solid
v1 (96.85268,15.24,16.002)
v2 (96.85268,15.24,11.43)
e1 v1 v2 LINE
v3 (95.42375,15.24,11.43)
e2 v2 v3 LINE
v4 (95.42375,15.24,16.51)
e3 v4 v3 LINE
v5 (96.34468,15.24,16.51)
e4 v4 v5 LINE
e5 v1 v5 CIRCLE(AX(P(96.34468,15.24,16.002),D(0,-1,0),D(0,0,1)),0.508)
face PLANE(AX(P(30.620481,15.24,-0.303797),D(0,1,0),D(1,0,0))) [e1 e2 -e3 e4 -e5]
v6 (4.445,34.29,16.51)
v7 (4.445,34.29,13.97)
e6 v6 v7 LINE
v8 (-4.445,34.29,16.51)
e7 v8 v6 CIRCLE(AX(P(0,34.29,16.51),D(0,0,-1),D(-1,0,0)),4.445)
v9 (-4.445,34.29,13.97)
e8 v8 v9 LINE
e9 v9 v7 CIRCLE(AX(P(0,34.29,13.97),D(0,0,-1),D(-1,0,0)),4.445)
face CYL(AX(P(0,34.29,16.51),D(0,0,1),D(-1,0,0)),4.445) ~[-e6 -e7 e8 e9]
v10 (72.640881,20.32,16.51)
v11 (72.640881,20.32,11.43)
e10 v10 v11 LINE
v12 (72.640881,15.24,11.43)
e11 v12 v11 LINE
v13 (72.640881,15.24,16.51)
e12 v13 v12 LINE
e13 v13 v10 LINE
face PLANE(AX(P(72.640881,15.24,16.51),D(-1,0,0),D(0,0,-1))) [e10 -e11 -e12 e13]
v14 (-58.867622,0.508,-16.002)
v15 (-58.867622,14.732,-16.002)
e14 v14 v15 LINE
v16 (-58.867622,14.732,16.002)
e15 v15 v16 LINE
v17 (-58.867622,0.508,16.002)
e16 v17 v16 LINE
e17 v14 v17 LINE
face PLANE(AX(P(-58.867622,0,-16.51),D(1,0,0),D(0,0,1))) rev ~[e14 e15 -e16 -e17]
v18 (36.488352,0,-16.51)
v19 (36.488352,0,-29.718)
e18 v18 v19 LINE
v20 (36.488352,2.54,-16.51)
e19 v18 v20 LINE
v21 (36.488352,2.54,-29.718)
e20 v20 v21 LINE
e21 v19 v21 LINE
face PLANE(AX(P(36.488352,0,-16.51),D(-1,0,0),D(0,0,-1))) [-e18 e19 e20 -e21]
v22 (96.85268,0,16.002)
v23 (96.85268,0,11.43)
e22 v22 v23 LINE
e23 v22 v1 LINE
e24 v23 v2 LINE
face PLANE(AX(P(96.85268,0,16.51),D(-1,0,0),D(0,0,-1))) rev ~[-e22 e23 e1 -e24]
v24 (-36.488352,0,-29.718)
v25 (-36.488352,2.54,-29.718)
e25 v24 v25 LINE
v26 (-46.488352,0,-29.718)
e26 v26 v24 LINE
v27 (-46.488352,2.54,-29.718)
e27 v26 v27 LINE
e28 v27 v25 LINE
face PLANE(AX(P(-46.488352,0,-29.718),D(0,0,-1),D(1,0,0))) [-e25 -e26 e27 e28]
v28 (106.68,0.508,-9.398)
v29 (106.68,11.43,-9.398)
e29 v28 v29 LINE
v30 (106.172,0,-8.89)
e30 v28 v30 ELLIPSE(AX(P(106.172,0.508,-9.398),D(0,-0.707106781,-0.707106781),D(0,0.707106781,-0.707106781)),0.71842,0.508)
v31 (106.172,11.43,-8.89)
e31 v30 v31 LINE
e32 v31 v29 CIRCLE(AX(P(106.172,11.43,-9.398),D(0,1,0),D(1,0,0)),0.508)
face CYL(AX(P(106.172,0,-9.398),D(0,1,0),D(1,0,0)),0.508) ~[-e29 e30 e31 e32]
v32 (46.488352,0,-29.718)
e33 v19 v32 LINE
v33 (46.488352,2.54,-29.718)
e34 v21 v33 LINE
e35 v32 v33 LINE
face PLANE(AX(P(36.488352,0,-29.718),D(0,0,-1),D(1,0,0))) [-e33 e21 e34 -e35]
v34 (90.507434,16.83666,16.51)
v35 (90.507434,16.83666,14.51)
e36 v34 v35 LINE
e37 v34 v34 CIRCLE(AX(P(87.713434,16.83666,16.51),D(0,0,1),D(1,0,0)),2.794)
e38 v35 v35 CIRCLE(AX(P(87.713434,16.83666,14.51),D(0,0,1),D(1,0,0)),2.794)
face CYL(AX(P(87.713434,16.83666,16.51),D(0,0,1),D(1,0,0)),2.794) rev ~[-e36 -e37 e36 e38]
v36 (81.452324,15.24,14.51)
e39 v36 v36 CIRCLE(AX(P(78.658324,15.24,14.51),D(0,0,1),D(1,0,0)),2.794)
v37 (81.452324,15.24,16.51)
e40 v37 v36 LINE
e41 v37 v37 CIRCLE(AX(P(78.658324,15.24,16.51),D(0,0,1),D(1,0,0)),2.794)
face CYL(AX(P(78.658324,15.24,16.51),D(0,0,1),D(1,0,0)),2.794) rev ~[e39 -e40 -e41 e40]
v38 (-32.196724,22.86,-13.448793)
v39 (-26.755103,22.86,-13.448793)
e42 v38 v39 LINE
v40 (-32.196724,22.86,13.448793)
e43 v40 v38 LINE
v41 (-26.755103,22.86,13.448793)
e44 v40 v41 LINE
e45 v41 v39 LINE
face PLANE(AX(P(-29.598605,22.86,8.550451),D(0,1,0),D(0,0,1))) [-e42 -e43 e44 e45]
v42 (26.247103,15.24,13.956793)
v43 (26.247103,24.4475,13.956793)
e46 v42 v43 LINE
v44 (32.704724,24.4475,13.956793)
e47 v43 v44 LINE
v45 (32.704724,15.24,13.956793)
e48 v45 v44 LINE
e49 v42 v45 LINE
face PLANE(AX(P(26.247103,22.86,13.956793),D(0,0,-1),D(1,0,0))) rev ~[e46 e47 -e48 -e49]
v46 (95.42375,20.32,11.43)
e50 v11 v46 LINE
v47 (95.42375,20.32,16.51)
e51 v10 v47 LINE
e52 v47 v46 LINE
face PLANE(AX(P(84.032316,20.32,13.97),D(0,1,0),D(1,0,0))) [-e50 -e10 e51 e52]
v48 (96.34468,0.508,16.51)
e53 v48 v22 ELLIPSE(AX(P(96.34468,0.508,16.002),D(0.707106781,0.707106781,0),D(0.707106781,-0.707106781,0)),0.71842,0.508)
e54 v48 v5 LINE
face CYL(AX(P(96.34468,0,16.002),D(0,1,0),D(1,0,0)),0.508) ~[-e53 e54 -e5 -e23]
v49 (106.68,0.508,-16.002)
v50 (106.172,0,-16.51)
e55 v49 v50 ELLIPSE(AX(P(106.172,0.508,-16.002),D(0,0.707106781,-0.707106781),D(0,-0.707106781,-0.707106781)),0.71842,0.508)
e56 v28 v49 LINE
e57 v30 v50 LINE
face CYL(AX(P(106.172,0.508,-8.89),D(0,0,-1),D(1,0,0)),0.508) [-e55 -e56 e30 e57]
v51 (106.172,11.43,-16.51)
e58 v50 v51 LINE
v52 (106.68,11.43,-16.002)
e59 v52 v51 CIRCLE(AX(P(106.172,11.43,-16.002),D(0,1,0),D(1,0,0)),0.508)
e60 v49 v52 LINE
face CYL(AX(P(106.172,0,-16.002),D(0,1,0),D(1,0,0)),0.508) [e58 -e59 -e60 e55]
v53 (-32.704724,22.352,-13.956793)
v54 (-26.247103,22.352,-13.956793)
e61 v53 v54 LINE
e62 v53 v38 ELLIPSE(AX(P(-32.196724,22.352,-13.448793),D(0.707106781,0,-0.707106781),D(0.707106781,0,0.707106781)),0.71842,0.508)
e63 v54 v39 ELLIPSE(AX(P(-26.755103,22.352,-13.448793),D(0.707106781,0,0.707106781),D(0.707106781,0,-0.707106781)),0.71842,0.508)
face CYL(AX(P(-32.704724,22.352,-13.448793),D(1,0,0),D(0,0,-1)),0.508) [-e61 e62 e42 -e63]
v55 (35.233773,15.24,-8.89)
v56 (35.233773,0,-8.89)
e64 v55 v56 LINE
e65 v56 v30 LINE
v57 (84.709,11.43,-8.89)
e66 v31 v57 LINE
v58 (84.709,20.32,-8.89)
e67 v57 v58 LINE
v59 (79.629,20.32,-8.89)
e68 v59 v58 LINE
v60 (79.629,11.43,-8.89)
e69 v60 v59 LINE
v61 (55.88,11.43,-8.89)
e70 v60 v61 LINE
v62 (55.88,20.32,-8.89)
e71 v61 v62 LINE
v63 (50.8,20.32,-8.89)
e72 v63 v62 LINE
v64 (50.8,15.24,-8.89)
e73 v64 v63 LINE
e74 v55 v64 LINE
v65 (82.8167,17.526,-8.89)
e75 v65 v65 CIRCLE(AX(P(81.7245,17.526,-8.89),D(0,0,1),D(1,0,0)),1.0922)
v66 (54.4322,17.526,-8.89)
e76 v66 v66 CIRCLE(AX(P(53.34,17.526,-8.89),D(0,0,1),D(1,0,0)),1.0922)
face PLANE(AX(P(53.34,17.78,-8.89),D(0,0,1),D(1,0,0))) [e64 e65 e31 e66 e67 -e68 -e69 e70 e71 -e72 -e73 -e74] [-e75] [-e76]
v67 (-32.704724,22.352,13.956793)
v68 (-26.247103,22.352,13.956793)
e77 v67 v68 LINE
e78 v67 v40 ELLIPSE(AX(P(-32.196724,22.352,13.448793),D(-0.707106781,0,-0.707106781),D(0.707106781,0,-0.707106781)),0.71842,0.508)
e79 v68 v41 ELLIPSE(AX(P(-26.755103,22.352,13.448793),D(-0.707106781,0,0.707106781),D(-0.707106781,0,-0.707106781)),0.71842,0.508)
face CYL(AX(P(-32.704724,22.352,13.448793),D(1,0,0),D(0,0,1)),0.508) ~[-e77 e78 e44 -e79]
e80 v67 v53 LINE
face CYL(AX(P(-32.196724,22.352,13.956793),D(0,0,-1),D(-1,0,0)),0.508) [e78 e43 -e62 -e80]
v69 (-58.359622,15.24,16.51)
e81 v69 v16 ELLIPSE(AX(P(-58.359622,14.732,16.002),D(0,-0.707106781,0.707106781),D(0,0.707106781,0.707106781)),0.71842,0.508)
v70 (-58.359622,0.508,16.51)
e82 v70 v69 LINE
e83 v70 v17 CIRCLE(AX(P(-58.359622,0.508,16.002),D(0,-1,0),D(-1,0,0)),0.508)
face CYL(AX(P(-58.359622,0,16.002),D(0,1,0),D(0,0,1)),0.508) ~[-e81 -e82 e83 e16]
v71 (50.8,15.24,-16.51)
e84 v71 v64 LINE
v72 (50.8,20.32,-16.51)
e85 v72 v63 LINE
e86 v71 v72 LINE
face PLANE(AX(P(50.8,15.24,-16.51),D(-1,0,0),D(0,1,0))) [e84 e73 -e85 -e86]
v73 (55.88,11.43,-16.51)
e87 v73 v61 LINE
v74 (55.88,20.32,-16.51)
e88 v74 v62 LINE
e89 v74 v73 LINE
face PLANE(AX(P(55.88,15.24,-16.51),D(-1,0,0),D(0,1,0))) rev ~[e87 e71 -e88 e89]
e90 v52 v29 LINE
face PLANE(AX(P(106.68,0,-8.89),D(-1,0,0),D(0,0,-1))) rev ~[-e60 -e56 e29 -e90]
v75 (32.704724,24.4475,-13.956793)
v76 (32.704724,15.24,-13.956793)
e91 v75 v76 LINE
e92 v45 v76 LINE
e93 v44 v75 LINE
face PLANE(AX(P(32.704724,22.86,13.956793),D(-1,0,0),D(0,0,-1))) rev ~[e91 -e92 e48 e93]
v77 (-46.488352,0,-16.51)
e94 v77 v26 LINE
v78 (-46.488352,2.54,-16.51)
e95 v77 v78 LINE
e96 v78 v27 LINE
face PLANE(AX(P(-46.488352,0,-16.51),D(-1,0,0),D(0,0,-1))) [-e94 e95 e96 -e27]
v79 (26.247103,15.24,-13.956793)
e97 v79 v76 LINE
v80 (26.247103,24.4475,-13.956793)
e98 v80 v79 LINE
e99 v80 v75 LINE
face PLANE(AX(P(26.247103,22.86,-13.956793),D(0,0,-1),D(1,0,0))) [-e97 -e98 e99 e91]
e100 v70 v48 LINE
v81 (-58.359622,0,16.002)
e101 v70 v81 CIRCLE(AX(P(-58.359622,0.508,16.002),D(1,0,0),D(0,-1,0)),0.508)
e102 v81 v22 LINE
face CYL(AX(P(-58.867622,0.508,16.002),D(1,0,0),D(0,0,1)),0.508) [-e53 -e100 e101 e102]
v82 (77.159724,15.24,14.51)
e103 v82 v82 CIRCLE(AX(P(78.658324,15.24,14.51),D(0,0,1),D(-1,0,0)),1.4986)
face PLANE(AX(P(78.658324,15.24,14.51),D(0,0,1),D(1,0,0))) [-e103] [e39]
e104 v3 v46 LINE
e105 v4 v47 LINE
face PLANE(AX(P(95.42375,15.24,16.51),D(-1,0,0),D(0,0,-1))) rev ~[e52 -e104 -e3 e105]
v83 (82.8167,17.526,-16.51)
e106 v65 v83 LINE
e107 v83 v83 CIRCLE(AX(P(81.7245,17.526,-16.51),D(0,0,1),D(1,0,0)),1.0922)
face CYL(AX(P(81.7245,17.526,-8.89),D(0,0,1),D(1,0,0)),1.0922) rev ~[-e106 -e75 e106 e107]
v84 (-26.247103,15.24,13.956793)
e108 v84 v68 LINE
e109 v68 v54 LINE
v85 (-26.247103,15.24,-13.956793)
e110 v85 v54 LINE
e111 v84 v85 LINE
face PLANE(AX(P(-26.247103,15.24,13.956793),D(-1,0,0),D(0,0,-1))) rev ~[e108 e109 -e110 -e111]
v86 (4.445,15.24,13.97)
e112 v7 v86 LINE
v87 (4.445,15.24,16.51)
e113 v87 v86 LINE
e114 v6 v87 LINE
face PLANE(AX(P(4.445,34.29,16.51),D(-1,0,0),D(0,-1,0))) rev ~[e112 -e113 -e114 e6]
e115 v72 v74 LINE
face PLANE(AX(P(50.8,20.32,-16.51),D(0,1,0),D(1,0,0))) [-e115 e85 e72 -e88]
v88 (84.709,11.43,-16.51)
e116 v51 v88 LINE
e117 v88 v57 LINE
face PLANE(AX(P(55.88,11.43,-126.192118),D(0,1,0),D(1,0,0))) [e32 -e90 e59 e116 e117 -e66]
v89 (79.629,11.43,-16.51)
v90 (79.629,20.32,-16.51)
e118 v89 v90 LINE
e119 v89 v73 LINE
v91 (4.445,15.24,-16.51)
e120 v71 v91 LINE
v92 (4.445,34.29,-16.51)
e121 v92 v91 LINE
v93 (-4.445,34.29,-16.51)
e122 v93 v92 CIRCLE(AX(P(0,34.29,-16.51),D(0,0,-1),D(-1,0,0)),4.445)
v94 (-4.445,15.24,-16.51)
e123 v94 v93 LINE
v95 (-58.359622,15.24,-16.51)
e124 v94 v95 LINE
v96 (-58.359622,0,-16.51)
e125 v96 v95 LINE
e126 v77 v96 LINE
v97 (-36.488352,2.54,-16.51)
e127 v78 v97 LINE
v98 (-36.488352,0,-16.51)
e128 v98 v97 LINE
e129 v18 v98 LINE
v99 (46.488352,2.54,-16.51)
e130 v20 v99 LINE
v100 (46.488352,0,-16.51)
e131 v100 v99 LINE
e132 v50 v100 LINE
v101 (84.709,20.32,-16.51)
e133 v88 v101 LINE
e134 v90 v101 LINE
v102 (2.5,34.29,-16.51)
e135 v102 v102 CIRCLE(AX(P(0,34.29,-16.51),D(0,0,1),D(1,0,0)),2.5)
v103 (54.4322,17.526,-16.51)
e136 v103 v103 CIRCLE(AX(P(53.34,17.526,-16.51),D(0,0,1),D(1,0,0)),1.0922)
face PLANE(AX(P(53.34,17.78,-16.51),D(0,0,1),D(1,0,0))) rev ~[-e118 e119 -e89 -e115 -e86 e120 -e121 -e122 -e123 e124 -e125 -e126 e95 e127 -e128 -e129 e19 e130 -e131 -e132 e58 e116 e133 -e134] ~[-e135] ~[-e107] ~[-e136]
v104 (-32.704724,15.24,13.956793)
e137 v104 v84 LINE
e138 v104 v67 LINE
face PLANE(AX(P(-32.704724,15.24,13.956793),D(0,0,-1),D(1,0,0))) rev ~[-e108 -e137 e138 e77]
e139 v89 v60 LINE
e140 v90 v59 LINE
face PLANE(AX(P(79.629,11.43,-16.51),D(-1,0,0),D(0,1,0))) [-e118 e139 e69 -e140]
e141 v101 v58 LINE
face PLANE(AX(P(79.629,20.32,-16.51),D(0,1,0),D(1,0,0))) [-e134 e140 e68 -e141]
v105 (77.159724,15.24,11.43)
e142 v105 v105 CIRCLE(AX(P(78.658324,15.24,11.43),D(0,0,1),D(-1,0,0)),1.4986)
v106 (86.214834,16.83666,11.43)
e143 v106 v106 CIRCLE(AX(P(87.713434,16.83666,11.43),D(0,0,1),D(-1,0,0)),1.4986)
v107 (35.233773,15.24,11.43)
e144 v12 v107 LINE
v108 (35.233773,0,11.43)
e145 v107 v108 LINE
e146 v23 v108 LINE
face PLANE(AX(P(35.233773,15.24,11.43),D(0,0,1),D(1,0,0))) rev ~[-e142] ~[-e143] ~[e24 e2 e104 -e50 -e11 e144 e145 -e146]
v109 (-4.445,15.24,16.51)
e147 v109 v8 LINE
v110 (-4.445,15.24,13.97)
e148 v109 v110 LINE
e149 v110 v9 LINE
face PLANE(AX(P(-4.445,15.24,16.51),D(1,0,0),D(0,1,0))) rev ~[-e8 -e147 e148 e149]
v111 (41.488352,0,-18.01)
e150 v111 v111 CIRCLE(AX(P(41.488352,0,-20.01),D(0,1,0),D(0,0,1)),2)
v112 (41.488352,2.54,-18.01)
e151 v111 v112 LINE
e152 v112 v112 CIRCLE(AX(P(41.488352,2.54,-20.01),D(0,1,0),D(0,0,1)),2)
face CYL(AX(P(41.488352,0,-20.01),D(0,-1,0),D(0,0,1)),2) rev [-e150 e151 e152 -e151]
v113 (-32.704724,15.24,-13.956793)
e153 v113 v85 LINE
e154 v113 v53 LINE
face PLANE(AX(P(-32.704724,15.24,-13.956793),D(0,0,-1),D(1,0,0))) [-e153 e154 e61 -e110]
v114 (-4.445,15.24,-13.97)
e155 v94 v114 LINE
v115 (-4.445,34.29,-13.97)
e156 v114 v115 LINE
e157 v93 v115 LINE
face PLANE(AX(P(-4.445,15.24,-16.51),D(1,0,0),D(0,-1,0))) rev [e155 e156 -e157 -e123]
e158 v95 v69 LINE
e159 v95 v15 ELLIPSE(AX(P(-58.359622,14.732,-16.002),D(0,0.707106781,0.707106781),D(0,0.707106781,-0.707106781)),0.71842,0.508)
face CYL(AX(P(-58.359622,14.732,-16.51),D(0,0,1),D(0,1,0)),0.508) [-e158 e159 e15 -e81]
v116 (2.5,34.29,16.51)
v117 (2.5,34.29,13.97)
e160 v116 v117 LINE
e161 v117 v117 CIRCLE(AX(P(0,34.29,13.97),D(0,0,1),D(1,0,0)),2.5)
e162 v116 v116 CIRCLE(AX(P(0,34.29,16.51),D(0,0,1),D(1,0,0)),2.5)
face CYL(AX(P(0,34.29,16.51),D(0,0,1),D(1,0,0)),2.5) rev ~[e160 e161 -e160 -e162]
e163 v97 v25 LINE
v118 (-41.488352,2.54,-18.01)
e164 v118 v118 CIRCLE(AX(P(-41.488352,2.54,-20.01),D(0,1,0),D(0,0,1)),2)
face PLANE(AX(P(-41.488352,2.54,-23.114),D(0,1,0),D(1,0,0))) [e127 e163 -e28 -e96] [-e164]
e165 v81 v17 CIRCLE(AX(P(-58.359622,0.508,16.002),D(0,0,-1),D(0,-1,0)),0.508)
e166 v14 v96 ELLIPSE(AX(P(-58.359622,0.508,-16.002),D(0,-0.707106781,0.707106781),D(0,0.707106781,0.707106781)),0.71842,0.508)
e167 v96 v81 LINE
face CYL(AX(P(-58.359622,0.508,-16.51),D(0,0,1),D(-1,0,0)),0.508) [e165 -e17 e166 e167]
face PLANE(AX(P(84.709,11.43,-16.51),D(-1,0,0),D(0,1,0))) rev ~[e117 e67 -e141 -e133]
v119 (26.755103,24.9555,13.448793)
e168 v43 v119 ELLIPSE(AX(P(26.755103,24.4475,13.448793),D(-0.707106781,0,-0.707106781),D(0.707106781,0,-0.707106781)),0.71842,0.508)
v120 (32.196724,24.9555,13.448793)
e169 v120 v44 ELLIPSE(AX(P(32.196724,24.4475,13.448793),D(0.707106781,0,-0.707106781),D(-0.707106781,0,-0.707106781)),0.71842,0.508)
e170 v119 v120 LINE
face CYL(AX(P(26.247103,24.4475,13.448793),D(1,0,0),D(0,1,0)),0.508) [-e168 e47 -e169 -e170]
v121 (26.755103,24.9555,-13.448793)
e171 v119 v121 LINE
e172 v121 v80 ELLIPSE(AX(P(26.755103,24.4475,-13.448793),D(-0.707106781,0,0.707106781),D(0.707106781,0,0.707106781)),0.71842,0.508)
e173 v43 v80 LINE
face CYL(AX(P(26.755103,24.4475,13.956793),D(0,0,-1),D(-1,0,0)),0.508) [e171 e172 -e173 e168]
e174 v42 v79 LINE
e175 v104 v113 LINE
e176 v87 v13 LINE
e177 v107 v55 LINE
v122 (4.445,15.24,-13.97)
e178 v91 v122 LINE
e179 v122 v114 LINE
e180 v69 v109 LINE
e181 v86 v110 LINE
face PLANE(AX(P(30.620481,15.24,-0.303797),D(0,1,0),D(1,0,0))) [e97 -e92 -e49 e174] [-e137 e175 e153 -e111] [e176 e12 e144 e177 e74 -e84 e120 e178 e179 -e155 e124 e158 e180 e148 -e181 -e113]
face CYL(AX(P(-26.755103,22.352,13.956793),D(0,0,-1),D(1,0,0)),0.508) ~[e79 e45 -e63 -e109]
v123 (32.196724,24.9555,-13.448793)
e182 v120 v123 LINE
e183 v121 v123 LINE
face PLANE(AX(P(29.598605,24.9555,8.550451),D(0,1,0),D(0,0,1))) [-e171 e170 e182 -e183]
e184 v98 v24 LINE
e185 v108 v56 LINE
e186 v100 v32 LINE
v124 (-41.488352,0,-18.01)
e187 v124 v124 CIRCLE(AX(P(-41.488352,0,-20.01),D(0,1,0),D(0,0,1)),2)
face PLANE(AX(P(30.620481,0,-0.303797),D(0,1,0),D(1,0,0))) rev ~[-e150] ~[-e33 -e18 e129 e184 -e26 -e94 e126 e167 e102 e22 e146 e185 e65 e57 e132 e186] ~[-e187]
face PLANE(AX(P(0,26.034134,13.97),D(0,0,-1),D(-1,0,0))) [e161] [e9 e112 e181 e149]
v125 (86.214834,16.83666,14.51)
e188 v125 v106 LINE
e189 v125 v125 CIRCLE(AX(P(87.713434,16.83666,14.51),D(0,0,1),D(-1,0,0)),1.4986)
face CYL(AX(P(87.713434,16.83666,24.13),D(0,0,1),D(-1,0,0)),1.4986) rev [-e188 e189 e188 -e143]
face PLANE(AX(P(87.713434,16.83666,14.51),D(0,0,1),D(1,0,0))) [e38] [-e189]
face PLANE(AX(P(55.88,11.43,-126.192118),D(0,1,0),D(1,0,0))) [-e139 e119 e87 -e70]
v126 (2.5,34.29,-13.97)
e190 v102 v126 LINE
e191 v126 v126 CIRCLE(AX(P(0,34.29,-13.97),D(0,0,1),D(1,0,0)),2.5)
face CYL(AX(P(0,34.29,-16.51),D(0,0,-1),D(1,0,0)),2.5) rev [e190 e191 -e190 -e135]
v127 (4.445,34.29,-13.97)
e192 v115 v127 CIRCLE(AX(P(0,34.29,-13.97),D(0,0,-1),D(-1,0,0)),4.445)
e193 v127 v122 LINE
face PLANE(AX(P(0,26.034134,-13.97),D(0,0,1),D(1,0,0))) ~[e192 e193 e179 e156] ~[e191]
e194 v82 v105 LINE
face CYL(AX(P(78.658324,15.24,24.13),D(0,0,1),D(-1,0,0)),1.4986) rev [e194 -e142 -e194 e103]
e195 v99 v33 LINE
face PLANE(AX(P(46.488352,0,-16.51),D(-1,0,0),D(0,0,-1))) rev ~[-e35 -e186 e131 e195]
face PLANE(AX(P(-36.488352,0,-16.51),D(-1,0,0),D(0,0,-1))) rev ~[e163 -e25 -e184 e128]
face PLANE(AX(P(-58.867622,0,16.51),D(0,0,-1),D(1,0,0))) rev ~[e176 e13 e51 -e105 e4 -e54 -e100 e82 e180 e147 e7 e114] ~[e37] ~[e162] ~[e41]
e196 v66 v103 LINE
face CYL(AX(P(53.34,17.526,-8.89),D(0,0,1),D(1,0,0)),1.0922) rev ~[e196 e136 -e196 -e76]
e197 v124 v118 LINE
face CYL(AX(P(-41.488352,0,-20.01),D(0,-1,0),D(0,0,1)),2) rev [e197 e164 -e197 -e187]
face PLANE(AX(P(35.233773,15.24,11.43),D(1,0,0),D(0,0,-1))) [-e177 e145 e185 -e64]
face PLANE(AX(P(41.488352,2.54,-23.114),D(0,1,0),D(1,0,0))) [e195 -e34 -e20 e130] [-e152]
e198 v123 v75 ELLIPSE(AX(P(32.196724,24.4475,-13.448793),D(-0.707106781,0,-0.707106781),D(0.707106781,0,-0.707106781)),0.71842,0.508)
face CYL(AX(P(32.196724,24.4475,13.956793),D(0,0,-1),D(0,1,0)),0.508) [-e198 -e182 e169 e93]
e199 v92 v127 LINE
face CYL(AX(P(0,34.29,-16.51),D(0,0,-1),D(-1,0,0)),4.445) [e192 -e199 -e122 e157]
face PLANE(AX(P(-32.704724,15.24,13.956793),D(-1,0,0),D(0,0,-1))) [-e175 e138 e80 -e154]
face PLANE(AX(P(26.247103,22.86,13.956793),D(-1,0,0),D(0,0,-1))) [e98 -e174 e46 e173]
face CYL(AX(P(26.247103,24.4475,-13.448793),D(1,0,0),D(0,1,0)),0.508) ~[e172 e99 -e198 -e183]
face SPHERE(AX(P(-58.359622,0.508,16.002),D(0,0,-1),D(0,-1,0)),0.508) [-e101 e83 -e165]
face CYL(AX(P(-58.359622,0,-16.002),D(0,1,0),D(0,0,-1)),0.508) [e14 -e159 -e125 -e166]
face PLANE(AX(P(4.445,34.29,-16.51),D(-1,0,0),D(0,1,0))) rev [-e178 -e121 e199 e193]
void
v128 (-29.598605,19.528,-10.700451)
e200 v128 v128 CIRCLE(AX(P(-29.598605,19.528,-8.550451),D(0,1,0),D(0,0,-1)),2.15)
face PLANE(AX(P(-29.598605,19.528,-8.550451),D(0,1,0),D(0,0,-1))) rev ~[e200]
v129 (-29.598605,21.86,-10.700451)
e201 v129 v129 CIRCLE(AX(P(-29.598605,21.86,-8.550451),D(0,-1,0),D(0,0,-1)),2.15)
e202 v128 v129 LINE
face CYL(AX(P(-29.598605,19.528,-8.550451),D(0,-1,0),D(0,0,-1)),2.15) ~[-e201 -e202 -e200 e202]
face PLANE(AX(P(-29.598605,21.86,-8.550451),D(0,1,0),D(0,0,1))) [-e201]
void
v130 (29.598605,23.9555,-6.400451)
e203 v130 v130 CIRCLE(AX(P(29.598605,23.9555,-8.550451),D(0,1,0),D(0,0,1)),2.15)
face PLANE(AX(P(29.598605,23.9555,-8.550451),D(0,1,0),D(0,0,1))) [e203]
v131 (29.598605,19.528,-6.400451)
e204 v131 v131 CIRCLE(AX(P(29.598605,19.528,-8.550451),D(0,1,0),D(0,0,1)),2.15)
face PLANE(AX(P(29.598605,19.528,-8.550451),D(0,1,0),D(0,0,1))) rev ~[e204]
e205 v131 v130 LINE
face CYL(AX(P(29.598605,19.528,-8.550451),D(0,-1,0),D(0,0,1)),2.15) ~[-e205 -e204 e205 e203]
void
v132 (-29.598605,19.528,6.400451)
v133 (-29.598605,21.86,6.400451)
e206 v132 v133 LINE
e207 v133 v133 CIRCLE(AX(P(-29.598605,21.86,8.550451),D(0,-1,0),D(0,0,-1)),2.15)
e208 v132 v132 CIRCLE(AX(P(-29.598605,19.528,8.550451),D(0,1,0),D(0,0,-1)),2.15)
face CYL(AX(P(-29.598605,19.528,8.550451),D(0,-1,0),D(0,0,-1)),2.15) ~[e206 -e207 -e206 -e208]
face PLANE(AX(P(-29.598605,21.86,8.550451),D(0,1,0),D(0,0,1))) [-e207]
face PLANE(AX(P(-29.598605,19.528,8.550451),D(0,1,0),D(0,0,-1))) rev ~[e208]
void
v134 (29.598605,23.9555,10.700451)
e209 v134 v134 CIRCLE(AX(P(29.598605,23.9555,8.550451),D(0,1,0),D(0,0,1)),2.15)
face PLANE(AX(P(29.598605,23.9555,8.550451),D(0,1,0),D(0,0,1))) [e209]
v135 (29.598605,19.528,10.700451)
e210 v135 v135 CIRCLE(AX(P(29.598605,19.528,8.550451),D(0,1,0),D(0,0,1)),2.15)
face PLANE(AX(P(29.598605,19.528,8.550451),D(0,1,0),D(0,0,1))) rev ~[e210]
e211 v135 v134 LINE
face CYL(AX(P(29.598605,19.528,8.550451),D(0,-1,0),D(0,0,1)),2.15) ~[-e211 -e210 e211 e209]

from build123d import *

# Parameters (mm, degrees)
BOSS_EXTRUDE1_DEPTH     = 15.24
SKETCH3_R               = 2.5
BOSS_EXTRUDE2_DEPTH     = 2.54
SKETCH4_W               = 6.457620629
SKETCH4_H               = 27.913585942
BOSS_EXTRUDE3_DEPTH     = 7.62
SKETCH11_W              = 6.457620629
SKETCH11_H              = 27.913585942
BOSS_EXTRUDE6_DEPTH     = 2.0955
CUT_EXTRUDE1_DEPTH      = 111.34392643
CUT_EXTRUDE1_DEPTH_BACK = 3.332
SKETCH6_R               = 2.15
FILLET1_R               = 0.508
SKETCH8_W               = 21.59
SKETCH8_H               = 20.32
CUT_EXTRUDE2_DEPTH      = 111.477226273
SKETCH1_3_W             = 10
SKETCH1_3_H             = 13.208
SKETCH1_3_R             = 2
BOSS_EXTRUDE5_DEPTH     = 2.54
CUT_EXTRUDE5_DEPTH      = 9.2075
CUT_EXTRUDE5_DEPTH_BACK = 117.302117887
SKETCH14_W              = 50.8
SKETCH14_H              = 3.81
BOSS_EXTRUDE7_START     = -7.62
SKETCH15_W              = 5.08
SKETCH15_H              = 5.08
SKETCH15_H_2            = 8.89
BOSS_EXTRUDE7_DEPTH     = 7.62
CUT_EXTRUDE6_REACH      = 118.302
SKETCH16_R              = 1.0922
SKETCH18_W              = 22.782868823
SKETCH18_H              = 5.08
BOSS_EXTRUDE8_DEPTH     = 5.08
CUT_EXTRUDE3_DEPTH      = 12.7
CUT_EXTRUDE3_DEPTH_BACK = 12.7
SKETCH9_R               = 1.4986
SKETCH10_R              = 2.794
CUT_EXTRUDE4_DEPTH      = 2
SKETCH20_R              = 2.15
BOSS_EXTRUDE9_DEPTH     = 1
BOSS_EXTRUDE10_START    = -1
SKETCH21_R              = 2.15
BOSS_EXTRUDE10_DEPTH    = 1


with BuildPart() as part:
    # Sketch1 → Boss-Extrude1 (new body)
    with BuildSketch(Plane(origin=(0, 0, 0), x_dir=(1, 0, 0), z_dir=(0, 1, 0))):
        Polygon((-58.867621619, 16.51), (-58.867621619, -16.51), (96.852680324, -16.51), (96.852680324, -11.43), (55.88, -11.43), (55.88, 8.89), (106.68, 8.89), (106.68, 16.51), align=None)
    extrude(amount=BOSS_EXTRUDE1_DEPTH)

    # Sketch3 → Boss-Extrude2 (add)
    with BuildSketch(Plane.XY.offset(16.51)):
        with BuildLine():
            Line((4.445, 15.24), (-4.445, 15.24))
            Line((-4.445, 15.24), (-4.445, 34.29))
            ThreePointArc((-4.445, 34.29), (0, 38.735), (4.445, 34.29))
            Line((4.445, 34.29), (4.445, 15.24))
        make_face()
        with Locations((0, 34.29)):
            Circle(SKETCH3_R, mode=Mode.SUBTRACT)
    boss_extrude2 = extrude(amount=-BOSS_EXTRUDE2_DEPTH)

    # Mirror1: Boss-Extrude2 across plane
    add(boss_extrude2.mirror(Plane.XY))

    # Sketch4 → Boss-Extrude3 (add)
    with BuildSketch(Plane(origin=(0, 15.24, 0), x_dir=(1, 0, 0), z_dir=(0, 1, 0))):
        with Locations((29.475913514, 0)):
            Rectangle(SKETCH4_W, SKETCH4_H)
        with Locations((-29.475913514, 0)):
            Rectangle(SKETCH4_W, SKETCH4_H)
    extrude(amount=BOSS_EXTRUDE3_DEPTH)

    # Sketch11 → Boss-Extrude6 (add)
    with BuildSketch(Plane(origin=(0, 22.86, 0), x_dir=(1, 0, 0), z_dir=(0, 1, 0))):
        with Locations((29.475913514, 0)):
            Rectangle(SKETCH11_W, SKETCH11_H)
    extrude(amount=BOSS_EXTRUDE6_DEPTH)

    # Sketch6 → Cut-Extrude1 (cut, two sides: drawn at the far end of the back side and taken through both)
    with BuildSketch(Plane(origin=(0, 22.86, 0), x_dir=(1, 0, 0), z_dir=(0, 1, 0)).offset(-CUT_EXTRUDE1_DEPTH_BACK)):
        with Locations(Location((29.5986053, 8.550450758, 0), (0, 0, 270))):
            Circle(SKETCH6_R)
        with Locations(Location((29.5986053, -8.550450758, 0), (0, 0, 270))):
            Circle(SKETCH6_R)
        with Locations(Location((-29.5986053, -8.550450758, 0), (0, 0, 90))):
            Circle(SKETCH6_R)
        with Locations(Location((-29.5986053, 8.550450758, 0), (0, 0, 90))):
            Circle(SKETCH6_R)
    extrude(amount=CUT_EXTRUDE1_DEPTH + CUT_EXTRUDE1_DEPTH_BACK, mode=Mode.SUBTRACT)

    # Fillet1
    fillet1_edges = [part.edges().sort_by_distance(p)[0] for p in [
        (-58.867621619, 0, 0),
        (106.68, 0, -12.7),
        (18.992529352, 0, 16.51),
        (-58.867621619, 7.62, 16.51),
        (-58.867621619, 7.62, -16.51),
        (106.68, 7.62, -16.51),
        (106.68, 7.62, -8.89),
        (96.852680324, 7.62, 16.51),
        (106.68, 15.24, -12.7),
        (-58.867621619, 15.24, 0),
        (-26.247103199, 22.86, 0),
        (-29.475913514, 22.86, -13.956792971),
        (-32.704723828, 22.86, 0),
        (-29.475913514, 22.86, 13.956792971),
        (32.704723828, 24.9555, 0),
        (29.475913514, 24.9555, -13.956792971),
        (26.247103199, 24.9555, 0),
        (29.475913514, 24.9555, 13.956792971),
    ]]
    fillet(fillet1_edges, radius=FILLET1_R)

    # Sketch8 → Cut-Extrude2 (cut, through all)
    with BuildSketch(Plane(origin=(0, 15.24, 0), x_dir=(1, 0, 0), z_dir=(0, 1, 0))):
        with Locations((46.028773367, -1.27)):
            Rectangle(SKETCH8_W, SKETCH8_H)
    extrude(amount=-CUT_EXTRUDE2_DEPTH, mode=Mode.SUBTRACT)

    # Sketch1<3> → Boss-Extrude5 (add)
    # profile 1 of 2: a face of its own
    with BuildSketch(Plane(origin=(0, 0, 0), x_dir=(1, 0, 0), z_dir=(0, 1, 0))):
        with Locations((-41.488351659, 23.114)):
            Rectangle(SKETCH1_3_W, SKETCH1_3_H)
        with Locations(Location((-41.488351659, 20.01, 0), (0, 0, 270))):
            Circle(SKETCH1_3_R, mode=Mode.SUBTRACT)
    # profile 2 of 2: a face of its own
    with BuildSketch(Plane(origin=(0, 0, 0), x_dir=(1, 0, 0), z_dir=(0, 1, 0))):
        with Locations((41.488351659, 23.114)):
            Rectangle(SKETCH1_3_W, SKETCH1_3_H)
        with Locations(Location((41.488351659, 20.01, 0), (0, 0, 270))):
            Circle(SKETCH1_3_R, mode=Mode.SUBTRACT)
    extrude(amount=BOSS_EXTRUDE5_DEPTH)

    # Sketch14 → Cut-Extrude5 (cut, two sides: drawn at the far end of the back side and taken through both)
    with BuildSketch(Plane.XY.offset(-8.89).offset(-CUT_EXTRUDE5_DEPTH_BACK)):
        with Locations((81.28, 13.335)):
            Rectangle(SKETCH14_W, SKETCH14_H)
    extrude(amount=CUT_EXTRUDE5_DEPTH + CUT_EXTRUDE5_DEPTH_BACK, mode=Mode.SUBTRACT)

    # Sketch15 → Boss-Extrude7 (add)
    with BuildSketch(Plane.XY.offset(-8.89).offset(BOSS_EXTRUDE7_START)):
        with Locations((53.34, 17.78)):
            Rectangle(SKETCH15_W, SKETCH15_H)
        with Locations((82.169, 15.875)):
            Rectangle(SKETCH15_W, SKETCH15_H_2)
    extrude(amount=BOSS_EXTRUDE7_DEPTH)

    # Sketch16 → Cut-Extrude6 (cut, up to next)
    with BuildSketch(Plane.XY.offset(-8.89), mode=Mode.PRIVATE) as cut_extrude6_sk1:
        with Locations((53.34, 17.526)):
            Circle(SKETCH16_R)
    cut_extrude6_tool1 = extrude(cut_extrude6_sk1.sketch, amount=-CUT_EXTRUDE6_REACH, mode=Mode.PRIVATE) & part.part
    # Sketch16 → Cut-Extrude6 (cut, up to next)
    with BuildSketch(Plane.XY.offset(-8.89), mode=Mode.PRIVATE) as cut_extrude6_sk2:
        with Locations((81.7245, 17.526)):
            Circle(SKETCH16_R)
    cut_extrude6_tool2 = extrude(cut_extrude6_sk2.sketch, amount=-CUT_EXTRUDE6_REACH, mode=Mode.PRIVATE) & part.part
    add(cut_extrude6_tool1.solids().sort_by_distance((53.34, 17.526, -8.89))[0], mode=Mode.SUBTRACT)
    add(cut_extrude6_tool2.solids().sort_by_distance((81.7245, 17.526, -8.89))[0], mode=Mode.SUBTRACT)

    # Sketch18 → Boss-Extrude8 (add)
    with BuildSketch(Plane(origin=(0, 15.24, 0), x_dir=(1, 0, 0), z_dir=(0, 1, 0))):
        with Locations((84.032315508, -13.97)):
            Rectangle(SKETCH18_W, SKETCH18_H)
    extrude(amount=BOSS_EXTRUDE8_DEPTH)

    # Sketch9 → Cut-Extrude3 (cut, two sides: drawn at the far end of the back side and taken through both)
    with BuildSketch(Plane(origin=(0, 0, 11.43), x_dir=(-1, 0, 0), z_dir=(0, 0, -1)).offset(-CUT_EXTRUDE3_DEPTH_BACK)):
        with Locations((-87.713434176, 16.836660264)):
            Circle(SKETCH9_R)
        with Locations((-78.658323849, 15.24)):
            Circle(SKETCH9_R)
    extrude(amount=CUT_EXTRUDE3_DEPTH + CUT_EXTRUDE3_DEPTH_BACK, mode=Mode.SUBTRACT)

    # Sketch10 → Cut-Extrude4 (cut)
    with BuildSketch(Plane.XY.offset(16.51)):
        with Locations((78.658323849, 15.24)):
            Circle(SKETCH10_R)
        with Locations((87.713434176, 16.836660264)):
            Circle(SKETCH10_R)
    extrude(amount=-CUT_EXTRUDE4_DEPTH, mode=Mode.SUBTRACT)

    # Sketch20 → Boss-Extrude9 (add)
    with BuildSketch(Plane(origin=(0, 22.86, 0), x_dir=(1, 0, 0), z_dir=(0, 1, 0))):
        with Locations(Location((-29.5986053, -8.550450758, 0), (0, 0, 270))):
            Circle(SKETCH20_R)
        with Locations(Location((-29.5986053, 8.550450758, 0), (0, 0, 270))):
            Circle(SKETCH20_R)
    extrude(amount=-BOSS_EXTRUDE9_DEPTH)

    # Sketch21 → Boss-Extrude10 (add)
    with BuildSketch(Plane(origin=(0, 24.9555, 0), x_dir=(1, 0, 0), z_dir=(0, 1, 0)).offset(BOSS_EXTRUDE10_START)):
        with Locations(Location((29.5986053, -8.550450758, 0), (0, 0, 270))):
            Circle(SKETCH21_R)
        with Locations(Location((29.5986053, 8.550450758, 0), (0, 0, 270))):
            Circle(SKETCH21_R)
    extrude(amount=BOSS_EXTRUDE10_DEPTH)


solid = part.part
